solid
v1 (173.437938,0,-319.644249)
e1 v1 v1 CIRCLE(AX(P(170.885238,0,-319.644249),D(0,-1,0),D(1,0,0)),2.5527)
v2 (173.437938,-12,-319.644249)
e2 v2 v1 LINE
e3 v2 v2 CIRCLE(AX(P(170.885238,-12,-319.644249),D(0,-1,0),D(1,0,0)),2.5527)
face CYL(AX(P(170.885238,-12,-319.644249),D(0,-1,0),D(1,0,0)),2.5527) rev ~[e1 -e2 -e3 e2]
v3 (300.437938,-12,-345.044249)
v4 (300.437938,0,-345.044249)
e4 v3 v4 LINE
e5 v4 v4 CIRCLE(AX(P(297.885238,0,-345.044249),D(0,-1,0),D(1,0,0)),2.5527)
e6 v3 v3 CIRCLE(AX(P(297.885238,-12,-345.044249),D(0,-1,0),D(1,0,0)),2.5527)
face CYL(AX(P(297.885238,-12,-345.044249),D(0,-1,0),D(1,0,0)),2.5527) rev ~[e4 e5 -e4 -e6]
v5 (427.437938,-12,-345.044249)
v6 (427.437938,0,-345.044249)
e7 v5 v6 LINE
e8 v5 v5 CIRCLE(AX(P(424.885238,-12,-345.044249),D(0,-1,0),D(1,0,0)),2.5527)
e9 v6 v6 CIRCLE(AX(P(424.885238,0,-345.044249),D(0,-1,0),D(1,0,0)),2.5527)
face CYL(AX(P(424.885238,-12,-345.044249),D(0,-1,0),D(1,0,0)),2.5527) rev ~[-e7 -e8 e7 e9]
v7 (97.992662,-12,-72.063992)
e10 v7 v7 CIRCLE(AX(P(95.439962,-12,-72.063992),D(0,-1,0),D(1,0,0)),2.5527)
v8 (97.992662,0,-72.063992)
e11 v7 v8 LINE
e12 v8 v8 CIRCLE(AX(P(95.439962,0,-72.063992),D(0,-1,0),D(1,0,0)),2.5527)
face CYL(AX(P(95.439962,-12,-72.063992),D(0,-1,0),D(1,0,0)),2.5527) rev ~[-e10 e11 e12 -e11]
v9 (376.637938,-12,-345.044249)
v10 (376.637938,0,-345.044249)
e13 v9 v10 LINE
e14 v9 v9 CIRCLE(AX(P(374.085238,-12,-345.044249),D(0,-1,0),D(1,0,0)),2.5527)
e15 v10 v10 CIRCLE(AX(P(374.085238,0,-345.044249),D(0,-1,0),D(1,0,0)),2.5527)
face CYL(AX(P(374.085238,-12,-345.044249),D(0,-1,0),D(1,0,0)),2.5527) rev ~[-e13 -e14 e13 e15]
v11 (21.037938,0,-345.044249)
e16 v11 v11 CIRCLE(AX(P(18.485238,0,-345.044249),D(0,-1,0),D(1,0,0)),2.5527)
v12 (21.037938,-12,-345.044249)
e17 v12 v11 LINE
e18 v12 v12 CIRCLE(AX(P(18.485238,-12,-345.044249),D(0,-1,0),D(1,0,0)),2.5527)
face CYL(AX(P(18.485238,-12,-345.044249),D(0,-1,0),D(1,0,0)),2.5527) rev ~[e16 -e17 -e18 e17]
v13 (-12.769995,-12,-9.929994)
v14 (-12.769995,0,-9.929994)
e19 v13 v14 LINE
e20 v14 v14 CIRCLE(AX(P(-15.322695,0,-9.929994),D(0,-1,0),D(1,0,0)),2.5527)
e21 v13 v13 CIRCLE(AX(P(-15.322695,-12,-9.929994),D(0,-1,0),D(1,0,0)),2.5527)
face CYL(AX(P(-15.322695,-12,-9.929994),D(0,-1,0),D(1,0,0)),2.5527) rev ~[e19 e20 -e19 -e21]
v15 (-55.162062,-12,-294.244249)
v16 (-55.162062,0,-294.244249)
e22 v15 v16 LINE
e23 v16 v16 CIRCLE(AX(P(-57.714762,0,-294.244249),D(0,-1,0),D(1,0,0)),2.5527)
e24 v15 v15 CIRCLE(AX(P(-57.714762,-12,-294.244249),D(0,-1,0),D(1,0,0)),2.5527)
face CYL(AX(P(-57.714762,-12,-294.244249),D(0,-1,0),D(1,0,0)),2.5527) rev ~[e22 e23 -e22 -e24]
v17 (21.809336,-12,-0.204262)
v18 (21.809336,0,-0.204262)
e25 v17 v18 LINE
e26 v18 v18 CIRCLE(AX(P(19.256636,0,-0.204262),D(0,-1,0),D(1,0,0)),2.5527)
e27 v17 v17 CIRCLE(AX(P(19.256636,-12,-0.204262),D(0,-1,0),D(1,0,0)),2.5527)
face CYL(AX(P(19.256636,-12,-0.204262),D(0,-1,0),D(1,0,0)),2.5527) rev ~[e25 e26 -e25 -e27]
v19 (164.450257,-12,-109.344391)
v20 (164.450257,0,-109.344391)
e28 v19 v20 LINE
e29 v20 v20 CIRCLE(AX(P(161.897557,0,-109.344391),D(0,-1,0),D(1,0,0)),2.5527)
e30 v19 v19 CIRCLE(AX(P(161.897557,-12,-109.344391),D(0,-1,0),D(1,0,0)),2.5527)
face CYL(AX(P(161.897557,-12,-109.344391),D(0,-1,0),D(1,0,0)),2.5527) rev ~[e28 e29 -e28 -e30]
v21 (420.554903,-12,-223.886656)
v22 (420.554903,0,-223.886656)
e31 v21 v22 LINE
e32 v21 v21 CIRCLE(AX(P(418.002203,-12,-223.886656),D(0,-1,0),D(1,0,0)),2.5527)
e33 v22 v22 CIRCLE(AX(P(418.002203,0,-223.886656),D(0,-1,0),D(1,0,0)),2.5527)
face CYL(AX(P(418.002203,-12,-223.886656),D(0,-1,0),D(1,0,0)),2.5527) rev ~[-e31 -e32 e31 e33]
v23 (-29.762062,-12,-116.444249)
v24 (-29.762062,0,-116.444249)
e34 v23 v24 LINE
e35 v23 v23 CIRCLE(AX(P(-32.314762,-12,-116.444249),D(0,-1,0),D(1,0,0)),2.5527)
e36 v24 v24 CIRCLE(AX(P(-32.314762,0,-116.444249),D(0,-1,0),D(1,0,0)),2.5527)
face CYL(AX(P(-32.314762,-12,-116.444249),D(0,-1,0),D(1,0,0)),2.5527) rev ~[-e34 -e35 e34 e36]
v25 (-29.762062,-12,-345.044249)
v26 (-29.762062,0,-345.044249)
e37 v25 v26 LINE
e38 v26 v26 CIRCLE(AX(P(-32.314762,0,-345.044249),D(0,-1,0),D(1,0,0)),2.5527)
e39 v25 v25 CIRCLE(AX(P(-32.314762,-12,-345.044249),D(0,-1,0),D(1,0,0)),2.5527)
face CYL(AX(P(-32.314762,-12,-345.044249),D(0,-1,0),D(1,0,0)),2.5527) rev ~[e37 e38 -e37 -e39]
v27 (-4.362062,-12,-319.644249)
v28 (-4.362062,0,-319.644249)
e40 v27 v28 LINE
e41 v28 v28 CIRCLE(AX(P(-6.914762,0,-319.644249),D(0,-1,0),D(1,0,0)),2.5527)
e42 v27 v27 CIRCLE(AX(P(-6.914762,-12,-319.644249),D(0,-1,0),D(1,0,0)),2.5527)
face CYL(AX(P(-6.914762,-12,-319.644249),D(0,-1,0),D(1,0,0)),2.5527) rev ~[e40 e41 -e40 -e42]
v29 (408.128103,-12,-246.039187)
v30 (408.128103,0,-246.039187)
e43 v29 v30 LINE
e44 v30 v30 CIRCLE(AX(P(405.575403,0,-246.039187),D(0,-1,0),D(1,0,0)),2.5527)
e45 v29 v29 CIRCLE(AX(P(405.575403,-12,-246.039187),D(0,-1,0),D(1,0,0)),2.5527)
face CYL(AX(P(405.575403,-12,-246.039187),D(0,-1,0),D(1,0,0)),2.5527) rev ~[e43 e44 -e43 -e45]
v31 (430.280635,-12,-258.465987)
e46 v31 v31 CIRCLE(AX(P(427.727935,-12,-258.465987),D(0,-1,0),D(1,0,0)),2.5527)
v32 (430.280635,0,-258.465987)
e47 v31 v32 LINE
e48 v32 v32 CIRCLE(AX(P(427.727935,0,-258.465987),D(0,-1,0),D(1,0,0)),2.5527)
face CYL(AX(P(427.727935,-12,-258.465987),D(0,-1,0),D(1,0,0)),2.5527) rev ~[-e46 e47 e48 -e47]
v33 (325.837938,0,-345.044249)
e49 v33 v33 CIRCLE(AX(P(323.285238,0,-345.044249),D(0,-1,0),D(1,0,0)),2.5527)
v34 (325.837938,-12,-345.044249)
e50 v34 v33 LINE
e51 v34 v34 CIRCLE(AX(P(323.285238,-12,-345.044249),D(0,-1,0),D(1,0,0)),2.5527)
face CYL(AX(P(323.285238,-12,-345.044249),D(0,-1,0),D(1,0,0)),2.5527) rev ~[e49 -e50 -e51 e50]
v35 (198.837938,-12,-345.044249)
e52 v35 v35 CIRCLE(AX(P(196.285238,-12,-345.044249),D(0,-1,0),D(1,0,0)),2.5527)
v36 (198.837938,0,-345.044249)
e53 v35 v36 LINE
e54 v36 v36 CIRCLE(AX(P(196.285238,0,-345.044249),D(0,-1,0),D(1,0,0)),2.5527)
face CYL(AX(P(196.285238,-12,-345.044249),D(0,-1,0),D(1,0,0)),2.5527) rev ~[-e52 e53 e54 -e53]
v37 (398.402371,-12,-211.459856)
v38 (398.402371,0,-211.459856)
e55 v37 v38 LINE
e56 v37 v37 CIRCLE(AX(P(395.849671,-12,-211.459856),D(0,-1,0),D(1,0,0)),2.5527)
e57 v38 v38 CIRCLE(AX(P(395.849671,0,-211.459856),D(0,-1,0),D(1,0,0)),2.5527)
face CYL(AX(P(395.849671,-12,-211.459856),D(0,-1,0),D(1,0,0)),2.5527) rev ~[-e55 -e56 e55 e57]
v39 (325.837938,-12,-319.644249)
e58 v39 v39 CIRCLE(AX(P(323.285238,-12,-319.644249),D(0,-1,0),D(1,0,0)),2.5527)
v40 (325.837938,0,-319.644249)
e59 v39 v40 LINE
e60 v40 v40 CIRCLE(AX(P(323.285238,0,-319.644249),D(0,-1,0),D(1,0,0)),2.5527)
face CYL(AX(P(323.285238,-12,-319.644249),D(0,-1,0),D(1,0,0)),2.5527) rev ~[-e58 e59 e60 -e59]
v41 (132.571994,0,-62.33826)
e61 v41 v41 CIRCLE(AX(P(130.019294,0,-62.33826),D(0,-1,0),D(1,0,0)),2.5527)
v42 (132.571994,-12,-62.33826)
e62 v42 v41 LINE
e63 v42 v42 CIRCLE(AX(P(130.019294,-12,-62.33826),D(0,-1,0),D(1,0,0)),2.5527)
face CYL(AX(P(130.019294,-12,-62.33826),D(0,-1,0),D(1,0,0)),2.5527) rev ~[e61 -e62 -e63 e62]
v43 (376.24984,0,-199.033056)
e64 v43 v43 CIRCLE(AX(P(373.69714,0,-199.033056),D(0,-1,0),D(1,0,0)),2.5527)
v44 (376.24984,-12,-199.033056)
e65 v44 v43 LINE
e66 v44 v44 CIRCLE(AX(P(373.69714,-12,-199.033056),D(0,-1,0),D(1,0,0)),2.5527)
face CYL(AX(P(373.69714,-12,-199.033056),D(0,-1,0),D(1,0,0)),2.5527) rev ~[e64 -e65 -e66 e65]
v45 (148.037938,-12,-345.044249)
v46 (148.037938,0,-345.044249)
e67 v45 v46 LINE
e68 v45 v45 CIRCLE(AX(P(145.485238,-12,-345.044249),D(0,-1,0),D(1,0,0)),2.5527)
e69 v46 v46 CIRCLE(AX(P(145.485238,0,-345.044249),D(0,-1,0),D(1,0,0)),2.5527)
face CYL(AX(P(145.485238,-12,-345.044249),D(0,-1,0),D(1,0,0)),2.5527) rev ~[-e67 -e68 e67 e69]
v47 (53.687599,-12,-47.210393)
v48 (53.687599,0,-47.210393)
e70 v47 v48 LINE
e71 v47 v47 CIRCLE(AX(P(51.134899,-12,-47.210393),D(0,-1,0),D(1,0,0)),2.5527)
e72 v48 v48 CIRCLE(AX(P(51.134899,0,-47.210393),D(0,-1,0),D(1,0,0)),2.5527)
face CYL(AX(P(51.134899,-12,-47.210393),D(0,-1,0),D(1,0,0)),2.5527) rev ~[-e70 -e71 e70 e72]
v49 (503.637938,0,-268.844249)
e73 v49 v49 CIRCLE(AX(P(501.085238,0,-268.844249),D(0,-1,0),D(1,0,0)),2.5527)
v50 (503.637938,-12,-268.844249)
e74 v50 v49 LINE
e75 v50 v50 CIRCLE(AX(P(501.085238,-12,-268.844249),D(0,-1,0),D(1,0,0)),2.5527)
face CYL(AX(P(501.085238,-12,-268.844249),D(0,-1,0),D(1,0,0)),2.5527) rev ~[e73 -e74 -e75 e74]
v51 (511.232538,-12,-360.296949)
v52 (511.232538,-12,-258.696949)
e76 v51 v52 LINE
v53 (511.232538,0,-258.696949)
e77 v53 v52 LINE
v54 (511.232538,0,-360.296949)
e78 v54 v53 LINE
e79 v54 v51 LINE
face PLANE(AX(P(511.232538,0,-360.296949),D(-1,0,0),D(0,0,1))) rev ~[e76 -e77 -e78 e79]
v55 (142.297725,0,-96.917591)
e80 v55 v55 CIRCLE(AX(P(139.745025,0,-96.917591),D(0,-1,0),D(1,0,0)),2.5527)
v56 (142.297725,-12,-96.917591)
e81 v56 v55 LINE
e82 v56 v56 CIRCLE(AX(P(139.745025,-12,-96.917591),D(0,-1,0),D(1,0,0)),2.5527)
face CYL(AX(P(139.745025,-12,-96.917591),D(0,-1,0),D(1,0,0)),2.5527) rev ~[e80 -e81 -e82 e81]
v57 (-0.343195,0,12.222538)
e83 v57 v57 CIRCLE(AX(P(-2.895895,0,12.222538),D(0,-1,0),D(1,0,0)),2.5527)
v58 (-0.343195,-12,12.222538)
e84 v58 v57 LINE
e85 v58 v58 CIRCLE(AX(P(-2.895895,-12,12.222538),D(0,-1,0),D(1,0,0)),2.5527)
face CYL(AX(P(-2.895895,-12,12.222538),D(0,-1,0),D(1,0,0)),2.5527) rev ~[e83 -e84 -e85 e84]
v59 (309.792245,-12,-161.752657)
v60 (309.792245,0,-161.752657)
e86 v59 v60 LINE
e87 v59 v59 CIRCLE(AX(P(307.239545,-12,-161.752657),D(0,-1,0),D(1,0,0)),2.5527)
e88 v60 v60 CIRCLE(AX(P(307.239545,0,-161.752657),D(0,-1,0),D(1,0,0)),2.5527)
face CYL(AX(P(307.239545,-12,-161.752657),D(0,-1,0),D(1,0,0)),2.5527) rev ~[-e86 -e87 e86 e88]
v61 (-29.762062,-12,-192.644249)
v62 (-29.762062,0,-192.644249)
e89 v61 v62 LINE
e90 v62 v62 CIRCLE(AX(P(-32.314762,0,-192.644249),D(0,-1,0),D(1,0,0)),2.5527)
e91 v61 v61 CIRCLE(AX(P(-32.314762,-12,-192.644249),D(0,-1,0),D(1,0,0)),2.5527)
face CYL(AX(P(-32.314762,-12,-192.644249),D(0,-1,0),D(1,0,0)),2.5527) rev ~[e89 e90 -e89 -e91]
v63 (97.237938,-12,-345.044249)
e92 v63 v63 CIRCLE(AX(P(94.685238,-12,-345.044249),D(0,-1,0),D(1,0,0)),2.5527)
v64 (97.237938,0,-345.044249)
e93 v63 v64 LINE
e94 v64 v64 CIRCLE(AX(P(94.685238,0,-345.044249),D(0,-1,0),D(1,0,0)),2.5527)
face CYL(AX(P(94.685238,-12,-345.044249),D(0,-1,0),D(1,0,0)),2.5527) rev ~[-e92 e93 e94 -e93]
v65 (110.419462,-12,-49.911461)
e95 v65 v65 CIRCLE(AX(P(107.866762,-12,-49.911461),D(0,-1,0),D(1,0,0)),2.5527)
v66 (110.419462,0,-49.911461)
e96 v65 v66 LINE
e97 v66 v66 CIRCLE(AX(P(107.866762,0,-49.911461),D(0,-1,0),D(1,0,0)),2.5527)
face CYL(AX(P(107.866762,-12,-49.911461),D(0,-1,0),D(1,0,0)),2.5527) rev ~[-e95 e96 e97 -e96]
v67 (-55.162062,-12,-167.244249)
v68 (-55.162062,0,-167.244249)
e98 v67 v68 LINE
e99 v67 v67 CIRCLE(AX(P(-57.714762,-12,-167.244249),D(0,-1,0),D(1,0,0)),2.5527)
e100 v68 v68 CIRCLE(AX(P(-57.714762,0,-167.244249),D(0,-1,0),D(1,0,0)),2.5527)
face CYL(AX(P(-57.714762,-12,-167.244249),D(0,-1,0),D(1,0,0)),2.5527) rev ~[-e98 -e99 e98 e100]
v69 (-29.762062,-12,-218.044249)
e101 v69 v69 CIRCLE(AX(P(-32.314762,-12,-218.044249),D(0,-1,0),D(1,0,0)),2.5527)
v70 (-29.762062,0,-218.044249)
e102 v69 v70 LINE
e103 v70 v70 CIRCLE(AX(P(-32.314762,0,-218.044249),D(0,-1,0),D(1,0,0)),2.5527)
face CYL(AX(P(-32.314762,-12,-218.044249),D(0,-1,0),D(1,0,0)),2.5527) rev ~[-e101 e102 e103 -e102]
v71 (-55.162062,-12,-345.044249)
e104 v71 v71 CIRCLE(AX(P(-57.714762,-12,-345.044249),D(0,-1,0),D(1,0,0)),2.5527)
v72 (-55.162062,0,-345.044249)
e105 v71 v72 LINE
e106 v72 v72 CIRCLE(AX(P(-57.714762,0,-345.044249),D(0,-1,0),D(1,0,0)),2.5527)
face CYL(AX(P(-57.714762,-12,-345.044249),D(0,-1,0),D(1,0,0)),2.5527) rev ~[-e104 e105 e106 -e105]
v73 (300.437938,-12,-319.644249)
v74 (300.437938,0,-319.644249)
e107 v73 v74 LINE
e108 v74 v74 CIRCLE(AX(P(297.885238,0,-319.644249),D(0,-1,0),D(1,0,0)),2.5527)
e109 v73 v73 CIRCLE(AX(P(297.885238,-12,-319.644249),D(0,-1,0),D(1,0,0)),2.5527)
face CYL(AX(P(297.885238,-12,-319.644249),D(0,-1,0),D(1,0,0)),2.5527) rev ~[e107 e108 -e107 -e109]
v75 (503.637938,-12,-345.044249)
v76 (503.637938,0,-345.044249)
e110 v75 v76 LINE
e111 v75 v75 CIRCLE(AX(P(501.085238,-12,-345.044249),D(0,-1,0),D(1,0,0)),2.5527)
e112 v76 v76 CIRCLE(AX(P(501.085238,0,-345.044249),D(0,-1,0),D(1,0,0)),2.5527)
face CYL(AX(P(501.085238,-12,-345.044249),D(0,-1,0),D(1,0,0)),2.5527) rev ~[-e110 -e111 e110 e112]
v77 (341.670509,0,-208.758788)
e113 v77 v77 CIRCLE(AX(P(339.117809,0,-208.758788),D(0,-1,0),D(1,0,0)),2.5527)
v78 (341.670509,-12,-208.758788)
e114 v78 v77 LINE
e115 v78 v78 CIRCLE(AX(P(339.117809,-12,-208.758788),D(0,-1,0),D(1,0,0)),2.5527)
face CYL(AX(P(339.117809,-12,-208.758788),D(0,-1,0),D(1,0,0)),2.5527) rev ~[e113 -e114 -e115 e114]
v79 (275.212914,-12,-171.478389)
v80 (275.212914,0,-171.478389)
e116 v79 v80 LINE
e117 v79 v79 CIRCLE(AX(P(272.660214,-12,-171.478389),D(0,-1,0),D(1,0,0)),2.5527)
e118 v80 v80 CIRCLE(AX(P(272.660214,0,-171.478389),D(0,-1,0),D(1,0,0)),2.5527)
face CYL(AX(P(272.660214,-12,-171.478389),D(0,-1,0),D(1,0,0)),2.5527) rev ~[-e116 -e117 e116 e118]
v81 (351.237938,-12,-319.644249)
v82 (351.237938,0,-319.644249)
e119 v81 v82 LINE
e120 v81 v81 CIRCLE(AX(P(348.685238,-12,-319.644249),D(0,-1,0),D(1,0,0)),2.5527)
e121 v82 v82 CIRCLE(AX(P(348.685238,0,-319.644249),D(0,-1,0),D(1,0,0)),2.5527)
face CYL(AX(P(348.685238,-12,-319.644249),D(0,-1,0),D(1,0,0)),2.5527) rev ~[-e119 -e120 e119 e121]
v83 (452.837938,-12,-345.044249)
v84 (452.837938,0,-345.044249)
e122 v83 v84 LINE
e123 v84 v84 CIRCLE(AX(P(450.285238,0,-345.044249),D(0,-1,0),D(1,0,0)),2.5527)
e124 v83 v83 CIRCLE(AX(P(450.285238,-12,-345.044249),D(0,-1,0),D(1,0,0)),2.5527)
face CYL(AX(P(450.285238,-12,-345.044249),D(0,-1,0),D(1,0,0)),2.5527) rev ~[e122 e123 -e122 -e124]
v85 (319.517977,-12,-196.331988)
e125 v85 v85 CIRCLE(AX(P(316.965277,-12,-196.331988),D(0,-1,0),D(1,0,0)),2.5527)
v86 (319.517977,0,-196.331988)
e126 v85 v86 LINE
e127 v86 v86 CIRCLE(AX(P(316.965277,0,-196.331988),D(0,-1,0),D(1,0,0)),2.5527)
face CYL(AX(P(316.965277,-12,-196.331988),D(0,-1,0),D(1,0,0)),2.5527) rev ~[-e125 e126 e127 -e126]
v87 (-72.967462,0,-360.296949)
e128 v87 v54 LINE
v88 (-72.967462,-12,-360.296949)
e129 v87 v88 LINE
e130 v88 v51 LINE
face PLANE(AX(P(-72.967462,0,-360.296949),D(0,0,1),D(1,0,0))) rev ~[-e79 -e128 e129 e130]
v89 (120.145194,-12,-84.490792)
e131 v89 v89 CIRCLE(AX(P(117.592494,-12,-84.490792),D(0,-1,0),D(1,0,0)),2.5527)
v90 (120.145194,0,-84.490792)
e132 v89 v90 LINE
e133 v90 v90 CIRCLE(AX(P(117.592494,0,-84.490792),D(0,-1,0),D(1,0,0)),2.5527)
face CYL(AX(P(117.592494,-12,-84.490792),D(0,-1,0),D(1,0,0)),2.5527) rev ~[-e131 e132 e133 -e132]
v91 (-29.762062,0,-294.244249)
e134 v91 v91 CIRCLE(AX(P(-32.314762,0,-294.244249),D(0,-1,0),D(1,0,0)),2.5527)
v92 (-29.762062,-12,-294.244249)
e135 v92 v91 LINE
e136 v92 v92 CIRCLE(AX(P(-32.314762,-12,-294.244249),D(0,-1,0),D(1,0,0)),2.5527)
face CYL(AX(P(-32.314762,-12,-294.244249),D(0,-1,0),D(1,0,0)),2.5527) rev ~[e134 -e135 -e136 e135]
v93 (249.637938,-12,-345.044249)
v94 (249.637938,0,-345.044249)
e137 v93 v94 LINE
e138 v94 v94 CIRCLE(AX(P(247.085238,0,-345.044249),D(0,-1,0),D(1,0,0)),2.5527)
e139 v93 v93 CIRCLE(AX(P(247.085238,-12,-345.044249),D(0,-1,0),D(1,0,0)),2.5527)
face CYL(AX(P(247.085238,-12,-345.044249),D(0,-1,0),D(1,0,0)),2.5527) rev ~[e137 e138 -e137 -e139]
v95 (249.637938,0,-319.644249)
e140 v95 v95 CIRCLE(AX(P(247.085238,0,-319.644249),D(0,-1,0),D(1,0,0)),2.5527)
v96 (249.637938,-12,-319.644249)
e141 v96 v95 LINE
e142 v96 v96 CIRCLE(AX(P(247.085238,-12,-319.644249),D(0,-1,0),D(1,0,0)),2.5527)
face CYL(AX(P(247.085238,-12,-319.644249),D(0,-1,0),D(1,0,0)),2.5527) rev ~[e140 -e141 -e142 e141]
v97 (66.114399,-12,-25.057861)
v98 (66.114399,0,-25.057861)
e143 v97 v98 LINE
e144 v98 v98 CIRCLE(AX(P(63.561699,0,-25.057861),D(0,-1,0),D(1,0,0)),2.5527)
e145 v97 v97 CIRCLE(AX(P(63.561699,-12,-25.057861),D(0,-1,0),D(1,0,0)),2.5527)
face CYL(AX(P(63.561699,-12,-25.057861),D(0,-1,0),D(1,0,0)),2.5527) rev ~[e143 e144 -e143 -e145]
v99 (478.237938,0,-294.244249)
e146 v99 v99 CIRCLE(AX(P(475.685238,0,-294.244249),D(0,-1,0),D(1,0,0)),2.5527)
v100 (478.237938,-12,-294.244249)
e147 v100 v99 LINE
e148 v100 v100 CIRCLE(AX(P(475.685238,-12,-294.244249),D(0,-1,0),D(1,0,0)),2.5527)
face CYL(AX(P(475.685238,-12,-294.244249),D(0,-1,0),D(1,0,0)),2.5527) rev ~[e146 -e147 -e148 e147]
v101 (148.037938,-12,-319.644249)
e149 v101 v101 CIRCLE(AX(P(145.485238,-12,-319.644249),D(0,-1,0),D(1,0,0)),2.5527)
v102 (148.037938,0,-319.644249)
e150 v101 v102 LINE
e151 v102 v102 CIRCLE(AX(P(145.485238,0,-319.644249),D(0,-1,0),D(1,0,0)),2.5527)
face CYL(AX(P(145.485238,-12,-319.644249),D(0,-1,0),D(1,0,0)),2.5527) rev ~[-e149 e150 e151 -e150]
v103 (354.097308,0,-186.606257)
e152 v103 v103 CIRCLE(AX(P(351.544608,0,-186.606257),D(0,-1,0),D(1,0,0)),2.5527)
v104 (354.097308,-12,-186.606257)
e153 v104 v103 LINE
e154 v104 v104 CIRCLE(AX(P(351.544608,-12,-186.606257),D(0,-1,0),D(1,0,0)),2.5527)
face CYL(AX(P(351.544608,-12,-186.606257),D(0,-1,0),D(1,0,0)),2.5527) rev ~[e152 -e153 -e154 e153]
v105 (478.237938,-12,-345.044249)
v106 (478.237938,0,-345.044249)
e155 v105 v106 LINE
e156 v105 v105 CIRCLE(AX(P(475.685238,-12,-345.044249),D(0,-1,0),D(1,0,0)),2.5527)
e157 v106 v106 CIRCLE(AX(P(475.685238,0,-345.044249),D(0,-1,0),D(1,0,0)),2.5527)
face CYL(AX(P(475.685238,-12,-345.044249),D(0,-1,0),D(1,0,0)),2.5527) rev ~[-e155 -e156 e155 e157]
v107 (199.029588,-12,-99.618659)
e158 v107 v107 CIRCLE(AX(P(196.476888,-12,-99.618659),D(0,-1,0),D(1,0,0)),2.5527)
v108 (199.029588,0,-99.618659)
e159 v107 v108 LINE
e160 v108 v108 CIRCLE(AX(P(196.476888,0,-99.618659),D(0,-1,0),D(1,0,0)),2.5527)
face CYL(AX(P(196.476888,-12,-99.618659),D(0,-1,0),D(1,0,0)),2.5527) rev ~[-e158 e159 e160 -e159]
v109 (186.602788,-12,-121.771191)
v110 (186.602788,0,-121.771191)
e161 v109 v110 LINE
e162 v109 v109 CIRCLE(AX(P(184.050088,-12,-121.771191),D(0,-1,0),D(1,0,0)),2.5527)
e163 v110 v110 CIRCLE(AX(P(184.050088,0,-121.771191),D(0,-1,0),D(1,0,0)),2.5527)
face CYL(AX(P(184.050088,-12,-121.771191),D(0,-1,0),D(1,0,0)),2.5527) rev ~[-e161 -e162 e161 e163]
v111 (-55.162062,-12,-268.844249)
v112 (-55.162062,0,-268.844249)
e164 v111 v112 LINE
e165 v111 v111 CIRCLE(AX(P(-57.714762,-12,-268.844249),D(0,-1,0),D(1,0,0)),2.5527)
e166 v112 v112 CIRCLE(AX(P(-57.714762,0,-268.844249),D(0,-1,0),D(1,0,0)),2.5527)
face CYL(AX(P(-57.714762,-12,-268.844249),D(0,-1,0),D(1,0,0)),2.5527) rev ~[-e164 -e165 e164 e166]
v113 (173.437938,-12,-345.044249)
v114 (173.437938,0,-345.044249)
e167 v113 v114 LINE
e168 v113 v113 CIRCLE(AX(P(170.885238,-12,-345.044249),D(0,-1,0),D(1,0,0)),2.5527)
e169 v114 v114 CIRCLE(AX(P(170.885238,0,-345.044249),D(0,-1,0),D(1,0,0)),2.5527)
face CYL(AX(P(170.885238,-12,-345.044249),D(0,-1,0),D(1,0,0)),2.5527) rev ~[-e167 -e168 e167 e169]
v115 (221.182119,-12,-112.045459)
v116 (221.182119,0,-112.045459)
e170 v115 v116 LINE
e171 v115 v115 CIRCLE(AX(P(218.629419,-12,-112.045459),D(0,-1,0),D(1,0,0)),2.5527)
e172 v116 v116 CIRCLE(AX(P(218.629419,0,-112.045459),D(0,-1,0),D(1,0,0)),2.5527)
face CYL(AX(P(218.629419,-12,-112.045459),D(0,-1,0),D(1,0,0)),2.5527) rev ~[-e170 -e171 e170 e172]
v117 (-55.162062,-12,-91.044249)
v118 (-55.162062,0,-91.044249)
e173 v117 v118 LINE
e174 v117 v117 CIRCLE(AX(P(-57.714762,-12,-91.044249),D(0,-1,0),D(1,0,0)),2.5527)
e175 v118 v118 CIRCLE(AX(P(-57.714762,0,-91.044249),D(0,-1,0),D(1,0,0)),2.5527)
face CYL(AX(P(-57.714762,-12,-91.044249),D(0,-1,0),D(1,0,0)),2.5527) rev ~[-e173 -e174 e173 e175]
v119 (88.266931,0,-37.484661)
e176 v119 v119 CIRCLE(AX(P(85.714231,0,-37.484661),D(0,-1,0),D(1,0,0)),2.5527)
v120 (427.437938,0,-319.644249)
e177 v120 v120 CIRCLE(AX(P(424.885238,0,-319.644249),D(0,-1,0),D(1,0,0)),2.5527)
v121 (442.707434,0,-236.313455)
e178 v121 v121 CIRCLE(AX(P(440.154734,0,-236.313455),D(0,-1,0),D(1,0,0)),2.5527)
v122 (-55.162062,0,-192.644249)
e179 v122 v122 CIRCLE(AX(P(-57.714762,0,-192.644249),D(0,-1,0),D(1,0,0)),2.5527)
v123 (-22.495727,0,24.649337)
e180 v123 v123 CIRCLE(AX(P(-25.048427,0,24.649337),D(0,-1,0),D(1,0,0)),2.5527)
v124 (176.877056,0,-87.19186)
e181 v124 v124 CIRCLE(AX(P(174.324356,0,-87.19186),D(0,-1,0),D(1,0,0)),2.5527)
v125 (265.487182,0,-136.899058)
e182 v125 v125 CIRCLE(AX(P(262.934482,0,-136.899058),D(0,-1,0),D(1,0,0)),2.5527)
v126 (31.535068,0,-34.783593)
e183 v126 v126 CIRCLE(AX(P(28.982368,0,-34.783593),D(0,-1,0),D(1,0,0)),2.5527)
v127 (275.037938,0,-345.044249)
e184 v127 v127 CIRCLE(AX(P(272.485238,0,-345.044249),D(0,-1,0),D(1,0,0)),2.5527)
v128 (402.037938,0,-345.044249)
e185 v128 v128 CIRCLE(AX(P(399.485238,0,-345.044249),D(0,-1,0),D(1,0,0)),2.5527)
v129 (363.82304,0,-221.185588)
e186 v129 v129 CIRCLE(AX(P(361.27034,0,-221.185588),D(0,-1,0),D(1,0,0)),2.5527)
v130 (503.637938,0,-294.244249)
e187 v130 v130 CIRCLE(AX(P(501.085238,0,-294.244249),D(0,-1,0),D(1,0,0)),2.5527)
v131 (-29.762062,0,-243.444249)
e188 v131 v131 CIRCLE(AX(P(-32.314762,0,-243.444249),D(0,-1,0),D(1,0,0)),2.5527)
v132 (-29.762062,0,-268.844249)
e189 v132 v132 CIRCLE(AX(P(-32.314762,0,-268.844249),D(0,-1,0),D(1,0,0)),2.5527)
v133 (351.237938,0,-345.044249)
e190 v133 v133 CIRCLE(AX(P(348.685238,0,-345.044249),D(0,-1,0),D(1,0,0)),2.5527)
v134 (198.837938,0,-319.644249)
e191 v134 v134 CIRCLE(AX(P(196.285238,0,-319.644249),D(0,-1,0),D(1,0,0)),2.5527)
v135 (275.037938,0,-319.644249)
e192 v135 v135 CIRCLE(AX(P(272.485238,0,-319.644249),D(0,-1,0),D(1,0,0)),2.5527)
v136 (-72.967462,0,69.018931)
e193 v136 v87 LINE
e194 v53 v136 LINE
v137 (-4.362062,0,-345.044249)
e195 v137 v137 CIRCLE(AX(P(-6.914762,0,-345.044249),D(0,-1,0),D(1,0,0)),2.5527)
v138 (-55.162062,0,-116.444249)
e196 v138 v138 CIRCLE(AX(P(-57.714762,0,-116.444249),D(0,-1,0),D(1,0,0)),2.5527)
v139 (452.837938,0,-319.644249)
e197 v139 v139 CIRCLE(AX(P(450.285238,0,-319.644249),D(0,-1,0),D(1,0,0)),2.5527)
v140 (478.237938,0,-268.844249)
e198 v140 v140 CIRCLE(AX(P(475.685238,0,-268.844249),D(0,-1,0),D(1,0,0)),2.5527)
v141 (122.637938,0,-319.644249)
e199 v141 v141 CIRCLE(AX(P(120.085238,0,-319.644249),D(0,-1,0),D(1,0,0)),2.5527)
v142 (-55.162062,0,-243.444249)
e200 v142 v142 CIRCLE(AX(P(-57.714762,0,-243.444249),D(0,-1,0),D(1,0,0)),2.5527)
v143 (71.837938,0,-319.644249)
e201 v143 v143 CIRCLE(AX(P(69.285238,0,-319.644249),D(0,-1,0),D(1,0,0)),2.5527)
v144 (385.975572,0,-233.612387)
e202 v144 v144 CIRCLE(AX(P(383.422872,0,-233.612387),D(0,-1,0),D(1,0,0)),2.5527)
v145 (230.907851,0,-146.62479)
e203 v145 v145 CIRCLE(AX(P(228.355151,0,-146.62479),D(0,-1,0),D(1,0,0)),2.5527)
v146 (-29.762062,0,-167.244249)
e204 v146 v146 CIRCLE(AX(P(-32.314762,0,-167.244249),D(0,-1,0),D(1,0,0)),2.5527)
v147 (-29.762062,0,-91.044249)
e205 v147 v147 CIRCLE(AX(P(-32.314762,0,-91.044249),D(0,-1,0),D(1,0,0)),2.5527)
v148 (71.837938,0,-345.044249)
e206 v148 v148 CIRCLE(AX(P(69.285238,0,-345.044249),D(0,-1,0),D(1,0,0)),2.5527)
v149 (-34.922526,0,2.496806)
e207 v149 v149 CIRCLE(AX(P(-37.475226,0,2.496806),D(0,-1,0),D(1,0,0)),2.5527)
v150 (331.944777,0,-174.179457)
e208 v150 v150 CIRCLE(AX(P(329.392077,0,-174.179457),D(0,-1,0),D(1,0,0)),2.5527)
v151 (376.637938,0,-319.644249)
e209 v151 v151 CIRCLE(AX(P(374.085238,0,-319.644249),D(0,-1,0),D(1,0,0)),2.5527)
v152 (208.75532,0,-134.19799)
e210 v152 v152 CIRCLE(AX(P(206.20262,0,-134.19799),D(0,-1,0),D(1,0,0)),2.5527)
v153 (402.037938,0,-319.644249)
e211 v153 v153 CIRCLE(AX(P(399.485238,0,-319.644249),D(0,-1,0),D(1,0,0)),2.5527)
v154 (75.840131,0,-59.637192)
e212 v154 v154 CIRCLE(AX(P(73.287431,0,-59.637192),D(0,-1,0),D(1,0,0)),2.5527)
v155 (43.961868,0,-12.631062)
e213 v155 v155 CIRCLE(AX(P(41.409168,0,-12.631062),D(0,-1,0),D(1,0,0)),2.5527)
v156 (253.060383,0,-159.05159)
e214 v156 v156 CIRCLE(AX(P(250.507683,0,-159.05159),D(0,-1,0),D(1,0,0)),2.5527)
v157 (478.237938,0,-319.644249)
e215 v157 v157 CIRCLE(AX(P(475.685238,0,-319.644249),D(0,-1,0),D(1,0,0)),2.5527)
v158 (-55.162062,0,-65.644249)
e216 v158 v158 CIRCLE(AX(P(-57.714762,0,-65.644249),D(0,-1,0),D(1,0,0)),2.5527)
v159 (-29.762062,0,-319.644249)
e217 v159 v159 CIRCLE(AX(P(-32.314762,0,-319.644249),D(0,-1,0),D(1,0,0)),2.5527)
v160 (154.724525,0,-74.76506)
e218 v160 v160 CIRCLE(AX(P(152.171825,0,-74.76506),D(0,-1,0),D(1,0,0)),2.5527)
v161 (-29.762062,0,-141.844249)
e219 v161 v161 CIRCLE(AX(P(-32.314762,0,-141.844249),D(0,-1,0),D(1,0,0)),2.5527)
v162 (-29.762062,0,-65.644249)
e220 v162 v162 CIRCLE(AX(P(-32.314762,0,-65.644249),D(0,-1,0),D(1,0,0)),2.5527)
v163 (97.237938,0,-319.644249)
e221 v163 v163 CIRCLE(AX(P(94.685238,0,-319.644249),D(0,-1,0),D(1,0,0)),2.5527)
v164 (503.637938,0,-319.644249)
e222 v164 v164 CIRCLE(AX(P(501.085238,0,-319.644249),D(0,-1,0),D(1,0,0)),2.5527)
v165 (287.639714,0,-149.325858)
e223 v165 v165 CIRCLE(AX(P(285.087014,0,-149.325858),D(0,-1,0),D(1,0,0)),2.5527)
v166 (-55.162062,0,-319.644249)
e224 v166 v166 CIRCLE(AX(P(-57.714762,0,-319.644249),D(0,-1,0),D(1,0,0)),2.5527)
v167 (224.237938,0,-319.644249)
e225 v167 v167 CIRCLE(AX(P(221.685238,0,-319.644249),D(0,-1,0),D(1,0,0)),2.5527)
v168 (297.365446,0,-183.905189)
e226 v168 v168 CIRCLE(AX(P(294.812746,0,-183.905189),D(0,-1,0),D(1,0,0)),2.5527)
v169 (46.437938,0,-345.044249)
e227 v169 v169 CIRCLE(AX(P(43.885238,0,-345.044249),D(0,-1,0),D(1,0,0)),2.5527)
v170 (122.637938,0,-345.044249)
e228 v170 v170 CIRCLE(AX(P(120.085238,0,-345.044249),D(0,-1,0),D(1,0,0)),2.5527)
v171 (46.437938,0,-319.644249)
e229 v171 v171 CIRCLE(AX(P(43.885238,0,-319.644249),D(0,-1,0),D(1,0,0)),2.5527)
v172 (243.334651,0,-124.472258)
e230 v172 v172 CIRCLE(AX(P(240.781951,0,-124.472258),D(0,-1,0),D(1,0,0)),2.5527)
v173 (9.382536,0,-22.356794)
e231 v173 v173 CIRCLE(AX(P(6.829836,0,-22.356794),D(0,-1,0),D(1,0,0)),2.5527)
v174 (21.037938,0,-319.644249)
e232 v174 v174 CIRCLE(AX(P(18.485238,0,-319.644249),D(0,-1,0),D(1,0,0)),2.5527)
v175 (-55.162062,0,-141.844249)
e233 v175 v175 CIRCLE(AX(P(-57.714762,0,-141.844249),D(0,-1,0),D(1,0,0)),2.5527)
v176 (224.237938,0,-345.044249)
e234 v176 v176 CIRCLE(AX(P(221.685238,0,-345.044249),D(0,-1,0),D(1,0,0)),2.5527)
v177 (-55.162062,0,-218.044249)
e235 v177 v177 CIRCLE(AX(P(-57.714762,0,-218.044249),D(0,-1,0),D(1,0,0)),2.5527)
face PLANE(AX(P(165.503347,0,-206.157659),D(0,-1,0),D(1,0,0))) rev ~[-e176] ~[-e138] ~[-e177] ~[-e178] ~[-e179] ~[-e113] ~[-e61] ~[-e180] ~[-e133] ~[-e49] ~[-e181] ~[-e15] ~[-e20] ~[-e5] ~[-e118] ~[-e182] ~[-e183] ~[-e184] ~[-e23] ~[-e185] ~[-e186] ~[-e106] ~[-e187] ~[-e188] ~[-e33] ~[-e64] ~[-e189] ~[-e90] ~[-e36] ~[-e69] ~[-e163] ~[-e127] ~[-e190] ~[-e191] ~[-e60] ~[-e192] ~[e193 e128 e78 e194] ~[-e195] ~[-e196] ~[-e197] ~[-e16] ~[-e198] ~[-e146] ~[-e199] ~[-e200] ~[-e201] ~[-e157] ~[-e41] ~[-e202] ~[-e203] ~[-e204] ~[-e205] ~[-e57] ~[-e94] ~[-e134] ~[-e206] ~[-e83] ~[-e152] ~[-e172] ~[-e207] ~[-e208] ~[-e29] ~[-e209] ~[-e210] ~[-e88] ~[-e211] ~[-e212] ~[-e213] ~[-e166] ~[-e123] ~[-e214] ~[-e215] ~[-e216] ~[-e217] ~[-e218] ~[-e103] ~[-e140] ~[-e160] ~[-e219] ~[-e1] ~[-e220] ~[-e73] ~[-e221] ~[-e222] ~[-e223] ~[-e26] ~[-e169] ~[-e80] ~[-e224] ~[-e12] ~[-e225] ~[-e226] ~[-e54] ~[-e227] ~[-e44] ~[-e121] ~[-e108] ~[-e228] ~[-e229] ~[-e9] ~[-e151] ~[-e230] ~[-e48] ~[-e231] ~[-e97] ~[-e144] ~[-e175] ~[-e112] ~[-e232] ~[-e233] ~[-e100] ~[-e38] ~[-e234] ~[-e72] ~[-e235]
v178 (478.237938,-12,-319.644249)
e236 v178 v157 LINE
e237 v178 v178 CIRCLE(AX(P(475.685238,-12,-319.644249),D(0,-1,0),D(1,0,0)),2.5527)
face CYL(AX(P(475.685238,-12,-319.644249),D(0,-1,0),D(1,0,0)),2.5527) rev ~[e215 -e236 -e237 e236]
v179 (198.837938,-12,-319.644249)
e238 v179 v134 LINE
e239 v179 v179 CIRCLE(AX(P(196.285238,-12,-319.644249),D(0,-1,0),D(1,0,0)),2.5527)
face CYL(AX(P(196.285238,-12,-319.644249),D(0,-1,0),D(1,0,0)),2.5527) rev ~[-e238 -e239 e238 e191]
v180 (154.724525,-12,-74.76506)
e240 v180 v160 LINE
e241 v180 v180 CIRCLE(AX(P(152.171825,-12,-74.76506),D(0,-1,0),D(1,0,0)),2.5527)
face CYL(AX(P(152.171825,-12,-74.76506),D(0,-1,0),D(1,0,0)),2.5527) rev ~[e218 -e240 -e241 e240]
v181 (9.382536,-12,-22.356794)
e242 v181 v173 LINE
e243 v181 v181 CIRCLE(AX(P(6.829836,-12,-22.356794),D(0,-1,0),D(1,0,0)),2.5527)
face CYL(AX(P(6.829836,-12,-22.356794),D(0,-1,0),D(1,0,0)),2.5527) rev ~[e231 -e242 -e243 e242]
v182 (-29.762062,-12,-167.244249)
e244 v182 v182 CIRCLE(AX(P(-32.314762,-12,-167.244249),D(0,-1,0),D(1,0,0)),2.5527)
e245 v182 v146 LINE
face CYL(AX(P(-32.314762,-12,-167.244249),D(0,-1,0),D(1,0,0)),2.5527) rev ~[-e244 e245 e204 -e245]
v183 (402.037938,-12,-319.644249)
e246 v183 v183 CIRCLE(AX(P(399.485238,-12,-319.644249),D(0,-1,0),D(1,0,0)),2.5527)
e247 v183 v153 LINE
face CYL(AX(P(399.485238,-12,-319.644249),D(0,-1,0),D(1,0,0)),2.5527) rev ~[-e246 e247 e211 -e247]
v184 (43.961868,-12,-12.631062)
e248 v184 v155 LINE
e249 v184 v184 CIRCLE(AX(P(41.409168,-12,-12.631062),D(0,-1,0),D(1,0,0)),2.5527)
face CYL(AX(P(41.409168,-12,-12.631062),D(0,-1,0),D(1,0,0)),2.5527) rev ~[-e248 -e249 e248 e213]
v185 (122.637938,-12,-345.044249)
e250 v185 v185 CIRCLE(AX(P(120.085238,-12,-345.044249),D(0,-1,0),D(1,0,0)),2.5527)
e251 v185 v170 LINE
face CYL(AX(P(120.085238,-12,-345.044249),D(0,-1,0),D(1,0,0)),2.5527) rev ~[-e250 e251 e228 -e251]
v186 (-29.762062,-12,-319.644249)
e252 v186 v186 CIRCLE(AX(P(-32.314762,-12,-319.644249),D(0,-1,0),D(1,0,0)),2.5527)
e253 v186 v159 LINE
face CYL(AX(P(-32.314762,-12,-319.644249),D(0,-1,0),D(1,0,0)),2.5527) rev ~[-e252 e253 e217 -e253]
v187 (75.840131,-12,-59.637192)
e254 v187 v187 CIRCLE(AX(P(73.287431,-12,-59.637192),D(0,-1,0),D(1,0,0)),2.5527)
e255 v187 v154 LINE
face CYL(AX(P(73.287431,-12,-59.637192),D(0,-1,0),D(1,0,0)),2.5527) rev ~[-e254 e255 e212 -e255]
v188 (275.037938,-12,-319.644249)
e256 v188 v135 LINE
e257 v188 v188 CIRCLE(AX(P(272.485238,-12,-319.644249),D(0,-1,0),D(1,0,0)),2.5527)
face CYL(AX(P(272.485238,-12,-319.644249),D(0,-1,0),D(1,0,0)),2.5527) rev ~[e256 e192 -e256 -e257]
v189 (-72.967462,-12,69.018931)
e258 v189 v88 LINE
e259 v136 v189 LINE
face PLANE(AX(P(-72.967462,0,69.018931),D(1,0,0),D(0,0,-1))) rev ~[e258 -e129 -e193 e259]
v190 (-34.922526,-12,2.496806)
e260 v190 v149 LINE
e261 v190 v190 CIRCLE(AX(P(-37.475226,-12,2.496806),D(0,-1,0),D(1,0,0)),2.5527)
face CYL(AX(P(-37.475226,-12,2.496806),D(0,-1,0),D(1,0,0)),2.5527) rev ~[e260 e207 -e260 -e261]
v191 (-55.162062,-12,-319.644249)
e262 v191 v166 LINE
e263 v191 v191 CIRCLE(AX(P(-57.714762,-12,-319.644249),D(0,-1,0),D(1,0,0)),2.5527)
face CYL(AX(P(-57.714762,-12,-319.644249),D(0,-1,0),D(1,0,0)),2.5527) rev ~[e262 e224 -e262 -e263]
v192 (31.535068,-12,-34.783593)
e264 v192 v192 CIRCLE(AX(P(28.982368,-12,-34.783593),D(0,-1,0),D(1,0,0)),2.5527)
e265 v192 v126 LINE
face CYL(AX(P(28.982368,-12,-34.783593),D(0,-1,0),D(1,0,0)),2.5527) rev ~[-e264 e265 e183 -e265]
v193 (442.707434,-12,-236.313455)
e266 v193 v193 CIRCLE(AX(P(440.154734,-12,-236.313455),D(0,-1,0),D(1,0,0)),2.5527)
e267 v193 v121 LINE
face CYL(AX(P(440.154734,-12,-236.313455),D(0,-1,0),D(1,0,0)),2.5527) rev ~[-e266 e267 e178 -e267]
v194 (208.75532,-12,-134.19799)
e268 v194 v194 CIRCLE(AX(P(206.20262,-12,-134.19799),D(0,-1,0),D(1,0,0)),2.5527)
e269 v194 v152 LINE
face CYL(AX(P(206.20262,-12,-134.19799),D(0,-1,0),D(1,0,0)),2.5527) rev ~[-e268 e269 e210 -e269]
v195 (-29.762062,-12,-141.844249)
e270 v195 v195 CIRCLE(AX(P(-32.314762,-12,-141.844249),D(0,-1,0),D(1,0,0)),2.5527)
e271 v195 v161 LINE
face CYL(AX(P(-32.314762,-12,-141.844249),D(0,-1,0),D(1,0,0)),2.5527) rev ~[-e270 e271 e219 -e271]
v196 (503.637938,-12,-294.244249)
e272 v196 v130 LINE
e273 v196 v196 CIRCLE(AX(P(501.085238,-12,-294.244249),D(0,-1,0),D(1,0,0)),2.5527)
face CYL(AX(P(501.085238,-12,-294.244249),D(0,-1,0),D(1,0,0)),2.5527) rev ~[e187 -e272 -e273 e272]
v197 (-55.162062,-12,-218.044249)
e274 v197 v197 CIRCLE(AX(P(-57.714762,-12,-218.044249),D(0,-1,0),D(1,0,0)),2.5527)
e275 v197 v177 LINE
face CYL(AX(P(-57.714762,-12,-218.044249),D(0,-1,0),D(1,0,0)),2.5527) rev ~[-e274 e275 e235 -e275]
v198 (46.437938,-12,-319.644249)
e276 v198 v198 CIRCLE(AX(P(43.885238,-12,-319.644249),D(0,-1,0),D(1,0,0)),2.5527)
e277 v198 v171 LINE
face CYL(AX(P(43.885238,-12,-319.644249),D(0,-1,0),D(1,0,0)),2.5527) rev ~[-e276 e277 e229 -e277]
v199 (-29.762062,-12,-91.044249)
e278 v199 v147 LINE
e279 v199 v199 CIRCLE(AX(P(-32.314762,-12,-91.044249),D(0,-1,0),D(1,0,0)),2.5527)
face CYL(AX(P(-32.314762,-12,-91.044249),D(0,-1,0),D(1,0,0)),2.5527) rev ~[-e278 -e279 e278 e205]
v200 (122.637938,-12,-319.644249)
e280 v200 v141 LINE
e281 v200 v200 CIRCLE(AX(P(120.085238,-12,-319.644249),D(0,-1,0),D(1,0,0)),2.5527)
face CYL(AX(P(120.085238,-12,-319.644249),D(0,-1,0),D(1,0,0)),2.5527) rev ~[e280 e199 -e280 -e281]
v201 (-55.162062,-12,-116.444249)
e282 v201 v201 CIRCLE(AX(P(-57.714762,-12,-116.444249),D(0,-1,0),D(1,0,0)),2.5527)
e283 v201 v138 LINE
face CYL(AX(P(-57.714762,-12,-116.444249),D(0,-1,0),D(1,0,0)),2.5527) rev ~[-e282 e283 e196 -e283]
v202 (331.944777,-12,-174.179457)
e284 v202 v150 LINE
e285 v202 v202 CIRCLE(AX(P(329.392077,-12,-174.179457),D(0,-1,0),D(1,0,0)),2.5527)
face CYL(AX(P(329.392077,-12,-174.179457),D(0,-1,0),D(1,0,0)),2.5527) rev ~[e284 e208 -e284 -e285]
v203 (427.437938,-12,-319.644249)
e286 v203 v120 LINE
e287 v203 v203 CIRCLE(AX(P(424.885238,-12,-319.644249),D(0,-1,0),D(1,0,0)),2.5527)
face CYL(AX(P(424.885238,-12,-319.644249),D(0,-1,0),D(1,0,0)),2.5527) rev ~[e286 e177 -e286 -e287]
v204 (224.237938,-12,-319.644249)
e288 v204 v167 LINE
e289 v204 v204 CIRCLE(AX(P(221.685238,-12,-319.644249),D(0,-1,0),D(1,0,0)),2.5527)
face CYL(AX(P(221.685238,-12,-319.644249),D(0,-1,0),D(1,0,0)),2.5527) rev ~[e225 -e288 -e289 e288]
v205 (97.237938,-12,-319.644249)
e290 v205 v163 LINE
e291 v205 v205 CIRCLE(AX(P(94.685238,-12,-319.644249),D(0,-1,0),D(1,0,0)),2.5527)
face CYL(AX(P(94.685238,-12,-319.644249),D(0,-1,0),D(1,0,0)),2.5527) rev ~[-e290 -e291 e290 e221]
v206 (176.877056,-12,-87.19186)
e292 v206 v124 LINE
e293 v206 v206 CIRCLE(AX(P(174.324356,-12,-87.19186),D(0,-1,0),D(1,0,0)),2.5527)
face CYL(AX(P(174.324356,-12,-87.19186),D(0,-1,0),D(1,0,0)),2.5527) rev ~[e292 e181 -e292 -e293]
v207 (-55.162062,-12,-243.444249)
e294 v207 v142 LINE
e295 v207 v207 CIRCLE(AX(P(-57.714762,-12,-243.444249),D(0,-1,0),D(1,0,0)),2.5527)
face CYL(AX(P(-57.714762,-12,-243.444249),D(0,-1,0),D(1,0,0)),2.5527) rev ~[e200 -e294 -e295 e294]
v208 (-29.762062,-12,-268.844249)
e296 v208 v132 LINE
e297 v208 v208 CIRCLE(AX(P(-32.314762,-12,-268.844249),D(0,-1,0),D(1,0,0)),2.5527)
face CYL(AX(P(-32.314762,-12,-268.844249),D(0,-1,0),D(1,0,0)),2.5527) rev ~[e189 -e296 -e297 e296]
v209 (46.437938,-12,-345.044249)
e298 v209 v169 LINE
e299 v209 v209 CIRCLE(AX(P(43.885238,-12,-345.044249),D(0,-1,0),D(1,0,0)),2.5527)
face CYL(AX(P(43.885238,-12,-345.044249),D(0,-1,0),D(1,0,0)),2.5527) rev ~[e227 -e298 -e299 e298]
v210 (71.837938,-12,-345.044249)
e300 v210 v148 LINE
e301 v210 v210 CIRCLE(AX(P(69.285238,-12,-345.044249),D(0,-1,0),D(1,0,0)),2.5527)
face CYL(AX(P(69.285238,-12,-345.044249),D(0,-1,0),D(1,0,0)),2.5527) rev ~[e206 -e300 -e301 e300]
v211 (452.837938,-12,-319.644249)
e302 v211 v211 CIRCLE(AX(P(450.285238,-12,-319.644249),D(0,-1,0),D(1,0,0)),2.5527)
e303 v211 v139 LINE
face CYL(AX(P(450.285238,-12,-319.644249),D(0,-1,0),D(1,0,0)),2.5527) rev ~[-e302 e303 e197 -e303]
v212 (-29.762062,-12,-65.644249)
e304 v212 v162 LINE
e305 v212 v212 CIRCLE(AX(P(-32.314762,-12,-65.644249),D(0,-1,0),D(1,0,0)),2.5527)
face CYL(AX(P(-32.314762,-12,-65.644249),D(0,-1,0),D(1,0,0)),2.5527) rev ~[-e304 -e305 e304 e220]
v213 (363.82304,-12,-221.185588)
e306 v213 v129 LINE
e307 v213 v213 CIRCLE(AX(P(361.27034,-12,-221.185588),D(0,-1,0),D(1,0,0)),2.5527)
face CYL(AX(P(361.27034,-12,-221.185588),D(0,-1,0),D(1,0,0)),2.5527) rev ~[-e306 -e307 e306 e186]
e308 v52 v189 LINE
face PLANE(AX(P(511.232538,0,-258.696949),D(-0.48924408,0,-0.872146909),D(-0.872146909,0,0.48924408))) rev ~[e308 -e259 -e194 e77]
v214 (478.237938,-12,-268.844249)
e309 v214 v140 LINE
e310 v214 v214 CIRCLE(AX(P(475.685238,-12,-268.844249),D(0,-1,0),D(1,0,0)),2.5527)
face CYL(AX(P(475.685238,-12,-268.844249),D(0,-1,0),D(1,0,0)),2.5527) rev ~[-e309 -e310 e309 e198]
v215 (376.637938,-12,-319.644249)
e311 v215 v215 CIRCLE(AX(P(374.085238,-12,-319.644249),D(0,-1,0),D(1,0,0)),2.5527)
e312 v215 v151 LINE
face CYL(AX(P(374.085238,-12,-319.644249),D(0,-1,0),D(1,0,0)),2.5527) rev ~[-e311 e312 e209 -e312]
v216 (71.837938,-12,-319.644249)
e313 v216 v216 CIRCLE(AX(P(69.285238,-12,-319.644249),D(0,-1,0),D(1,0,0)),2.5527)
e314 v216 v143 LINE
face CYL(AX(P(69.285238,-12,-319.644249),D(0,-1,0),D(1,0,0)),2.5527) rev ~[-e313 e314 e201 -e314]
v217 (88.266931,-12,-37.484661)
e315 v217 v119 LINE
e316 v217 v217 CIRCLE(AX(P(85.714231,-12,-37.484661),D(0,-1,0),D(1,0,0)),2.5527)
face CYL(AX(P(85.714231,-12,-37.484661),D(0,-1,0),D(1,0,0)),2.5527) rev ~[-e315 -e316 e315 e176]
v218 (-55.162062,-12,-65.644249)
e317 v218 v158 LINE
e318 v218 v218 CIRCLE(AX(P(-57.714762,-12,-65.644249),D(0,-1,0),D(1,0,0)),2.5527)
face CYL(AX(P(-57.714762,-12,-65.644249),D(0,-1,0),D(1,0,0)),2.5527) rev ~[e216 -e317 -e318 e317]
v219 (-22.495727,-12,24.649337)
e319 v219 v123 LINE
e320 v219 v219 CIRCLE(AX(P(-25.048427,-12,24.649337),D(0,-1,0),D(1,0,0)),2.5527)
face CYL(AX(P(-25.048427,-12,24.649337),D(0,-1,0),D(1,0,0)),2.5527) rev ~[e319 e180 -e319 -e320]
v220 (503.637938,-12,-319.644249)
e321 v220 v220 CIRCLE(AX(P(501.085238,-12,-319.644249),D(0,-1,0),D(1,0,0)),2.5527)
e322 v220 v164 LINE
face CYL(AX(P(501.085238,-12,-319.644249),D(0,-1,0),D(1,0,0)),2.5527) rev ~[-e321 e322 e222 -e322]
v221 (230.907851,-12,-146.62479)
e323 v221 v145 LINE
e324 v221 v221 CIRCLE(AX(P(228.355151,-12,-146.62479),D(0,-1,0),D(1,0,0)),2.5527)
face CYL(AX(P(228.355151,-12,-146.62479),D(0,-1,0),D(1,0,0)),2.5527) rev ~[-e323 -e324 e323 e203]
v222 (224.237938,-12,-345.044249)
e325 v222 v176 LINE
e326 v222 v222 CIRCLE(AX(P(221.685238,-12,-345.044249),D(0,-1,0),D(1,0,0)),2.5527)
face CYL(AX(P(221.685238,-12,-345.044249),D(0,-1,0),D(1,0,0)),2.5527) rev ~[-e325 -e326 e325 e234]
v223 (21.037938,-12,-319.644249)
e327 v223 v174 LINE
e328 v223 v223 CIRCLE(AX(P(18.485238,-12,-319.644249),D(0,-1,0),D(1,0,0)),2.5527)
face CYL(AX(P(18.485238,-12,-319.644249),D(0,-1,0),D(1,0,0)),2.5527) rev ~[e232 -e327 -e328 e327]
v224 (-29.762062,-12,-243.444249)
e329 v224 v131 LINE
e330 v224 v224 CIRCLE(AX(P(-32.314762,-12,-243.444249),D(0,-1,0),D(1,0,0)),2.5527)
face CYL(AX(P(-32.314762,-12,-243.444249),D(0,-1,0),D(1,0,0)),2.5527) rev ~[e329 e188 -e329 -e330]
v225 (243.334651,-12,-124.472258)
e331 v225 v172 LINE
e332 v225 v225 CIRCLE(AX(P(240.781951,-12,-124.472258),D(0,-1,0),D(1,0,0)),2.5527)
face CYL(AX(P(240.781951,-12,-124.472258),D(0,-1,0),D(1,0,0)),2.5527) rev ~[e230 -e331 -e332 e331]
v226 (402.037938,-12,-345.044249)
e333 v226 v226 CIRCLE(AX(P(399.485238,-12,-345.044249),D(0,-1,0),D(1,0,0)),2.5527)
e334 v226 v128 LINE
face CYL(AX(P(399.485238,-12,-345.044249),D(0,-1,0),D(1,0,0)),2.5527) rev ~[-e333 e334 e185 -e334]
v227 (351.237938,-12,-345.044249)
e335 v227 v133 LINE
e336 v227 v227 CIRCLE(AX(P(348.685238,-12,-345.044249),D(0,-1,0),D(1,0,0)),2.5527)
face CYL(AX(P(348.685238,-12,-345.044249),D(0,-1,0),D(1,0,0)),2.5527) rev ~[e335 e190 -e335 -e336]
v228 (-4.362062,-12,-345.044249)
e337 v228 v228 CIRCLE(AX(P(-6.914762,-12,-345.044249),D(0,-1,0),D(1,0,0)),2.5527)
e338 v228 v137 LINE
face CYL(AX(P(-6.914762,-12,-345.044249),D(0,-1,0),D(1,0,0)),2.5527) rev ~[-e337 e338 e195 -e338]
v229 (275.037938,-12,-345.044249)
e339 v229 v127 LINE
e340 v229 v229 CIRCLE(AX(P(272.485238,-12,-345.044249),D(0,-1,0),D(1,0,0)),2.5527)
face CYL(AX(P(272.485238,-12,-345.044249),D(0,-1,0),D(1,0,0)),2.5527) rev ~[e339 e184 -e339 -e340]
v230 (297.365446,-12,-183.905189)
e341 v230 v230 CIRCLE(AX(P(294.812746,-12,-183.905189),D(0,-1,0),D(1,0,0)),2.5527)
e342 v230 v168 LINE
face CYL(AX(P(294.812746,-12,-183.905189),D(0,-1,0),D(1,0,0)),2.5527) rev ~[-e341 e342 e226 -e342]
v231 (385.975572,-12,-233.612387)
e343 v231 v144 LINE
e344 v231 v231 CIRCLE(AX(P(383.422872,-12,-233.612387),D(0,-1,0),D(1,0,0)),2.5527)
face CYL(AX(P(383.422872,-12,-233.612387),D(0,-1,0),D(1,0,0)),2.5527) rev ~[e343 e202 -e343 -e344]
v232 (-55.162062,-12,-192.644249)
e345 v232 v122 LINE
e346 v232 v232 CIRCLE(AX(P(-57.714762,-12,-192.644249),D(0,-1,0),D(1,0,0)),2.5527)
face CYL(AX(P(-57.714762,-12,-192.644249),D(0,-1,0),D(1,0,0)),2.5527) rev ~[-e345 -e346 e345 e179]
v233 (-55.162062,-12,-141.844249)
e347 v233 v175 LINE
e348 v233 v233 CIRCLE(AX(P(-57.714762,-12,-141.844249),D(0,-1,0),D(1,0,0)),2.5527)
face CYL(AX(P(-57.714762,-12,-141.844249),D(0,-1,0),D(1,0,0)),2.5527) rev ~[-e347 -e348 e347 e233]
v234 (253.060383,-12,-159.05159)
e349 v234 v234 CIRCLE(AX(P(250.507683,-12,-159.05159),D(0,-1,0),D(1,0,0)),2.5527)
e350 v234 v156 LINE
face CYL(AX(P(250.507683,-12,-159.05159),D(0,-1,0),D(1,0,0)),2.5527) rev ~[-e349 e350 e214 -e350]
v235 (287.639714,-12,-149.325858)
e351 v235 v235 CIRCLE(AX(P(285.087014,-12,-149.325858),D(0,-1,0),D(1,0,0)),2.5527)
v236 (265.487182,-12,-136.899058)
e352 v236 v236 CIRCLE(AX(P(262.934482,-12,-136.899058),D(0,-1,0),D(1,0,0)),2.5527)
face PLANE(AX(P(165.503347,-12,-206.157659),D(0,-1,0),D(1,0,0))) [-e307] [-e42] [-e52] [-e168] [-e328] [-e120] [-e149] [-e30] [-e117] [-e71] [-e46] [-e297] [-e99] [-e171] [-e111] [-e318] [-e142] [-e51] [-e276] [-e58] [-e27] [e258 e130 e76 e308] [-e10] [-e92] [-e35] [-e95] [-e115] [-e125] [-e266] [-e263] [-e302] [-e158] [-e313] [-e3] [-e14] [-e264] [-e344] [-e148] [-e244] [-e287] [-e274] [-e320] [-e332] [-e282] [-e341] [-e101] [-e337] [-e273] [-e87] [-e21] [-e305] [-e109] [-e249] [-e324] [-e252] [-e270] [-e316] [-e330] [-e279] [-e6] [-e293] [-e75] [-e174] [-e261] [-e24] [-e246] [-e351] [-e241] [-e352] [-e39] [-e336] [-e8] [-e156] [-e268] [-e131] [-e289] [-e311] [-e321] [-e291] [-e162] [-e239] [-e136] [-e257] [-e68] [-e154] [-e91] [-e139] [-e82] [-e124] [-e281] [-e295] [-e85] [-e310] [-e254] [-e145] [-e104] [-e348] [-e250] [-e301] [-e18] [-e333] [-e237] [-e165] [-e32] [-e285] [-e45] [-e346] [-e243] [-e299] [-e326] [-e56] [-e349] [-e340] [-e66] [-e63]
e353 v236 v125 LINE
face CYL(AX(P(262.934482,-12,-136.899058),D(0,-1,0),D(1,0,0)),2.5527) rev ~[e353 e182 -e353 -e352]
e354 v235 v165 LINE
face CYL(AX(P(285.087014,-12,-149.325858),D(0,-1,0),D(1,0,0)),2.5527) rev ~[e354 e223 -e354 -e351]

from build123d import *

# Parameters (mm, degrees)
F1_DEPTH = 12
F2_R     = 2.5527
F3_DEPTH = 508


with BuildPart() as f1:
    # F0 (on Front) → F1 (new body)
    with BuildSketch(Plane.XZ):
        Polygon((511.232538, -258.696949), (-72.967462, 69.018931), (-72.967462, -360.296949), (511.232538, -360.296949), align=None)
    extrude(amount=F1_DEPTH)

    # F2 (on face) → F3 (cut)
    with BuildSketch(Plane.XZ.offset(12)):
        with Locations((-57.714762, -345.044249)):
            Circle(F2_R)
        with Locations((-57.714762, -319.644249)):
            Circle(F2_R)
        with Locations((-57.714762, -294.244249)):
            Circle(F2_R)
        with Locations((-57.714762, -268.844249)):
            Circle(F2_R)
        with Locations((-57.714762, -243.444249)):
            Circle(F2_R)
        with Locations((-57.714762, -218.044249)):
            Circle(F2_R)
        with Locations((-57.714762, -192.644249)):
            Circle(F2_R)
        with Locations((-57.714762, -167.244249)):
            Circle(F2_R)
        with Locations((-57.714762, -141.844249)):
            Circle(F2_R)
        with Locations((-57.714762, -116.444249)):
            Circle(F2_R)
        with Locations((-57.714762, -91.044249)):
            Circle(F2_R)
        with Locations((-57.714762, -65.644249)):
            Circle(F2_R)
        with Locations((-32.314762, -345.044249)):
            Circle(F2_R)
        with Locations((-32.314762, -319.644249)):
            Circle(F2_R)
        with Locations((-32.314762, -294.244249)):
            Circle(F2_R)
        with Locations((-32.314762, -268.844249)):
            Circle(F2_R)
        with Locations((-32.314762, -243.444249)):
            Circle(F2_R)
        with Locations((-32.314762, -218.044249)):
            Circle(F2_R)
        with Locations((-32.314762, -192.644249)):
            Circle(F2_R)
        with Locations((-32.314762, -167.244249)):
            Circle(F2_R)
        with Locations((-32.314762, -141.844249)):
            Circle(F2_R)
        with Locations((-32.314762, -116.444249)):
            Circle(F2_R)
        with Locations((-32.314762, -91.044249)):
            Circle(F2_R)
        with Locations((-32.314762, -65.644249)):
            Circle(F2_R)
        with Locations((-6.914762, -319.644249)):
            Circle(F2_R)
        with Locations((-6.914762, -345.044249)):
            Circle(F2_R)
        with Locations((18.485238, -319.644249)):
            Circle(F2_R)
        with Locations((18.485238, -345.044249)):
            Circle(F2_R)
        with Locations((43.885238, -319.644249)):
            Circle(F2_R)
        with Locations((43.885238, -345.044249)):
            Circle(F2_R)
        with Locations((69.285238, -319.644249)):
            Circle(F2_R)
        with Locations((69.285238, -345.044249)):
            Circle(F2_R)
        with Locations((94.685238, -319.644249)):
            Circle(F2_R)
        with Locations((94.685238, -345.044249)):
            Circle(F2_R)
        with Locations((120.085238, -319.644249)):
            Circle(F2_R)
        with Locations((120.085238, -345.044249)):
            Circle(F2_R)
        with Locations((145.485238, -319.644249)):
            Circle(F2_R)
        with Locations((145.485238, -345.044249)):
            Circle(F2_R)
        with Locations((170.885238, -319.644249)):
            Circle(F2_R)
        with Locations((170.885238, -345.044249)):
            Circle(F2_R)
        with Locations((196.285238, -319.644249)):
            Circle(F2_R)
        with Locations((196.285238, -345.044249)):
            Circle(F2_R)
        with Locations((221.685238, -319.644249)):
            Circle(F2_R)
        with Locations((221.685238, -345.044249)):
            Circle(F2_R)
        with Locations((247.085238, -319.644249)):
            Circle(F2_R)
        with Locations((247.085238, -345.044249)):
            Circle(F2_R)
        with Locations((272.485238, -319.644249)):
            Circle(F2_R)
        with Locations((272.485238, -345.044249)):
            Circle(F2_R)
        with Locations((297.885238, -319.644249)):
            Circle(F2_R)
        with Locations((297.885238, -345.044249)):
            Circle(F2_R)
        with Locations((323.285238, -319.644249)):
            Circle(F2_R)
        with Locations((323.285238, -345.044249)):
            Circle(F2_R)
        with Locations((348.685238, -319.644249)):
            Circle(F2_R)
        with Locations((348.685238, -345.044249)):
            Circle(F2_R)
        with Locations((374.085238, -319.644249)):
            Circle(F2_R)
        with Locations((374.085238, -345.044249)):
            Circle(F2_R)
        with Locations((399.485238, -319.644249)):
            Circle(F2_R)
        with Locations((399.485238, -345.044249)):
            Circle(F2_R)
        with Locations((424.885238, -319.644249)):
            Circle(F2_R)
        with Locations((424.885238, -345.044249)):
            Circle(F2_R)
        with Locations((450.285238, -319.644249)):
            Circle(F2_R)
        with Locations((450.285238, -345.044249)):
            Circle(F2_R)
        with Locations((475.685238, -319.644249)):
            Circle(F2_R)
        with Locations((475.685238, -345.044249)):
            Circle(F2_R)
        with Locations((-25.048427, 24.649337)):
            Circle(F2_R)
        with Locations((-57.714762, 86.755751)):
            Circle(F2_R)
        with Locations((-32.314762, 86.755751)):
            Circle(F2_R)
        with Locations((501.085238, -319.644249)):
            Circle(F2_R)
        with Locations((501.085238, -345.044249)):
            Circle(F2_R)
        with Locations((-37.475226, 2.496806)):
            Circle(F2_R)
        with Locations((-2.895895, 12.222538)):
            Circle(F2_R)
        with Locations((-15.322695, -9.929994)):
            Circle(F2_R)
        with Locations((19.256636, -0.204262)):
            Circle(F2_R)
        with Locations((6.829836, -22.356794)):
            Circle(F2_R)
        with Locations((41.409168, -12.631062)):
            Circle(F2_R)
        with Locations((28.982368, -34.783593)):
            Circle(F2_R)
        with Locations((63.561699, -25.057861)):
            Circle(F2_R)
        with Locations((51.134899, -47.210393)):
            Circle(F2_R)
        with Locations((85.714231, -37.484661)):
            Circle(F2_R)
        with Locations((73.287431, -59.637192)):
            Circle(F2_R)
        with Locations((107.866762, -49.911461)):
            Circle(F2_R)
        with Locations((95.439962, -72.063992)):
            Circle(F2_R)
        with Locations((130.019294, -62.33826)):
            Circle(F2_R)
        with Locations((117.592494, -84.490792)):
            Circle(F2_R)
        with Locations((152.171825, -74.76506)):
            Circle(F2_R)
        with Locations((139.745025, -96.917591)):
            Circle(F2_R)
        with Locations((174.324356, -87.19186)):
            Circle(F2_R)
        with Locations((161.897557, -109.344391)):
            Circle(F2_R)
        with Locations((196.476888, -99.618659)):
            Circle(F2_R)
        with Locations((184.050088, -121.771191)):
            Circle(F2_R)
        with Locations((218.629419, -112.045459)):
            Circle(F2_R)
        with Locations((206.20262, -134.19799)):
            Circle(F2_R)
        with Locations((240.781951, -124.472258)):
            Circle(F2_R)
        with Locations((228.355151, -146.62479)):
            Circle(F2_R)
        with Locations((262.934482, -136.899058)):
            Circle(F2_R)
        with Locations((250.507683, -159.05159)):
            Circle(F2_R)
        with Locations((285.087014, -149.325858)):
            Circle(F2_R)
        with Locations((272.660214, -171.478389)):
            Circle(F2_R)
        with Locations((307.239545, -161.752657)):
            Circle(F2_R)
        with Locations((294.812746, -183.905189)):
            Circle(F2_R)
        with Locations((329.392077, -174.179457)):
            Circle(F2_R)
        with Locations((316.965277, -196.331988)):
            Circle(F2_R)
        with Locations((351.544608, -186.606257)):
            Circle(F2_R)
        with Locations((339.117809, -208.758788)):
            Circle(F2_R)
        with Locations((373.69714, -199.033056)):
            Circle(F2_R)
        with Locations((361.27034, -221.185588)):
            Circle(F2_R)
        with Locations((395.849671, -211.459856)):
            Circle(F2_R)
        with Locations((383.422872, -233.612387)):
            Circle(F2_R)
        with Locations((418.002203, -223.886656)):
            Circle(F2_R)
        with Locations((405.575403, -246.039187)):
            Circle(F2_R)
        with Locations((440.154734, -236.313455)):
            Circle(F2_R)
        with Locations((427.727935, -258.465987)):
            Circle(F2_R)
        with Locations((475.685238, -294.244249)):
            Circle(F2_R)
        with Locations((475.685238, -268.844249)):
            Circle(F2_R)
        with Locations((501.085238, -294.244249)):
            Circle(F2_R)
        with Locations((501.085238, -268.844249)):
            Circle(F2_R)
    extrude(amount=-F3_DEPTH, mode=Mode.SUBTRACT)


solid = f1.part
